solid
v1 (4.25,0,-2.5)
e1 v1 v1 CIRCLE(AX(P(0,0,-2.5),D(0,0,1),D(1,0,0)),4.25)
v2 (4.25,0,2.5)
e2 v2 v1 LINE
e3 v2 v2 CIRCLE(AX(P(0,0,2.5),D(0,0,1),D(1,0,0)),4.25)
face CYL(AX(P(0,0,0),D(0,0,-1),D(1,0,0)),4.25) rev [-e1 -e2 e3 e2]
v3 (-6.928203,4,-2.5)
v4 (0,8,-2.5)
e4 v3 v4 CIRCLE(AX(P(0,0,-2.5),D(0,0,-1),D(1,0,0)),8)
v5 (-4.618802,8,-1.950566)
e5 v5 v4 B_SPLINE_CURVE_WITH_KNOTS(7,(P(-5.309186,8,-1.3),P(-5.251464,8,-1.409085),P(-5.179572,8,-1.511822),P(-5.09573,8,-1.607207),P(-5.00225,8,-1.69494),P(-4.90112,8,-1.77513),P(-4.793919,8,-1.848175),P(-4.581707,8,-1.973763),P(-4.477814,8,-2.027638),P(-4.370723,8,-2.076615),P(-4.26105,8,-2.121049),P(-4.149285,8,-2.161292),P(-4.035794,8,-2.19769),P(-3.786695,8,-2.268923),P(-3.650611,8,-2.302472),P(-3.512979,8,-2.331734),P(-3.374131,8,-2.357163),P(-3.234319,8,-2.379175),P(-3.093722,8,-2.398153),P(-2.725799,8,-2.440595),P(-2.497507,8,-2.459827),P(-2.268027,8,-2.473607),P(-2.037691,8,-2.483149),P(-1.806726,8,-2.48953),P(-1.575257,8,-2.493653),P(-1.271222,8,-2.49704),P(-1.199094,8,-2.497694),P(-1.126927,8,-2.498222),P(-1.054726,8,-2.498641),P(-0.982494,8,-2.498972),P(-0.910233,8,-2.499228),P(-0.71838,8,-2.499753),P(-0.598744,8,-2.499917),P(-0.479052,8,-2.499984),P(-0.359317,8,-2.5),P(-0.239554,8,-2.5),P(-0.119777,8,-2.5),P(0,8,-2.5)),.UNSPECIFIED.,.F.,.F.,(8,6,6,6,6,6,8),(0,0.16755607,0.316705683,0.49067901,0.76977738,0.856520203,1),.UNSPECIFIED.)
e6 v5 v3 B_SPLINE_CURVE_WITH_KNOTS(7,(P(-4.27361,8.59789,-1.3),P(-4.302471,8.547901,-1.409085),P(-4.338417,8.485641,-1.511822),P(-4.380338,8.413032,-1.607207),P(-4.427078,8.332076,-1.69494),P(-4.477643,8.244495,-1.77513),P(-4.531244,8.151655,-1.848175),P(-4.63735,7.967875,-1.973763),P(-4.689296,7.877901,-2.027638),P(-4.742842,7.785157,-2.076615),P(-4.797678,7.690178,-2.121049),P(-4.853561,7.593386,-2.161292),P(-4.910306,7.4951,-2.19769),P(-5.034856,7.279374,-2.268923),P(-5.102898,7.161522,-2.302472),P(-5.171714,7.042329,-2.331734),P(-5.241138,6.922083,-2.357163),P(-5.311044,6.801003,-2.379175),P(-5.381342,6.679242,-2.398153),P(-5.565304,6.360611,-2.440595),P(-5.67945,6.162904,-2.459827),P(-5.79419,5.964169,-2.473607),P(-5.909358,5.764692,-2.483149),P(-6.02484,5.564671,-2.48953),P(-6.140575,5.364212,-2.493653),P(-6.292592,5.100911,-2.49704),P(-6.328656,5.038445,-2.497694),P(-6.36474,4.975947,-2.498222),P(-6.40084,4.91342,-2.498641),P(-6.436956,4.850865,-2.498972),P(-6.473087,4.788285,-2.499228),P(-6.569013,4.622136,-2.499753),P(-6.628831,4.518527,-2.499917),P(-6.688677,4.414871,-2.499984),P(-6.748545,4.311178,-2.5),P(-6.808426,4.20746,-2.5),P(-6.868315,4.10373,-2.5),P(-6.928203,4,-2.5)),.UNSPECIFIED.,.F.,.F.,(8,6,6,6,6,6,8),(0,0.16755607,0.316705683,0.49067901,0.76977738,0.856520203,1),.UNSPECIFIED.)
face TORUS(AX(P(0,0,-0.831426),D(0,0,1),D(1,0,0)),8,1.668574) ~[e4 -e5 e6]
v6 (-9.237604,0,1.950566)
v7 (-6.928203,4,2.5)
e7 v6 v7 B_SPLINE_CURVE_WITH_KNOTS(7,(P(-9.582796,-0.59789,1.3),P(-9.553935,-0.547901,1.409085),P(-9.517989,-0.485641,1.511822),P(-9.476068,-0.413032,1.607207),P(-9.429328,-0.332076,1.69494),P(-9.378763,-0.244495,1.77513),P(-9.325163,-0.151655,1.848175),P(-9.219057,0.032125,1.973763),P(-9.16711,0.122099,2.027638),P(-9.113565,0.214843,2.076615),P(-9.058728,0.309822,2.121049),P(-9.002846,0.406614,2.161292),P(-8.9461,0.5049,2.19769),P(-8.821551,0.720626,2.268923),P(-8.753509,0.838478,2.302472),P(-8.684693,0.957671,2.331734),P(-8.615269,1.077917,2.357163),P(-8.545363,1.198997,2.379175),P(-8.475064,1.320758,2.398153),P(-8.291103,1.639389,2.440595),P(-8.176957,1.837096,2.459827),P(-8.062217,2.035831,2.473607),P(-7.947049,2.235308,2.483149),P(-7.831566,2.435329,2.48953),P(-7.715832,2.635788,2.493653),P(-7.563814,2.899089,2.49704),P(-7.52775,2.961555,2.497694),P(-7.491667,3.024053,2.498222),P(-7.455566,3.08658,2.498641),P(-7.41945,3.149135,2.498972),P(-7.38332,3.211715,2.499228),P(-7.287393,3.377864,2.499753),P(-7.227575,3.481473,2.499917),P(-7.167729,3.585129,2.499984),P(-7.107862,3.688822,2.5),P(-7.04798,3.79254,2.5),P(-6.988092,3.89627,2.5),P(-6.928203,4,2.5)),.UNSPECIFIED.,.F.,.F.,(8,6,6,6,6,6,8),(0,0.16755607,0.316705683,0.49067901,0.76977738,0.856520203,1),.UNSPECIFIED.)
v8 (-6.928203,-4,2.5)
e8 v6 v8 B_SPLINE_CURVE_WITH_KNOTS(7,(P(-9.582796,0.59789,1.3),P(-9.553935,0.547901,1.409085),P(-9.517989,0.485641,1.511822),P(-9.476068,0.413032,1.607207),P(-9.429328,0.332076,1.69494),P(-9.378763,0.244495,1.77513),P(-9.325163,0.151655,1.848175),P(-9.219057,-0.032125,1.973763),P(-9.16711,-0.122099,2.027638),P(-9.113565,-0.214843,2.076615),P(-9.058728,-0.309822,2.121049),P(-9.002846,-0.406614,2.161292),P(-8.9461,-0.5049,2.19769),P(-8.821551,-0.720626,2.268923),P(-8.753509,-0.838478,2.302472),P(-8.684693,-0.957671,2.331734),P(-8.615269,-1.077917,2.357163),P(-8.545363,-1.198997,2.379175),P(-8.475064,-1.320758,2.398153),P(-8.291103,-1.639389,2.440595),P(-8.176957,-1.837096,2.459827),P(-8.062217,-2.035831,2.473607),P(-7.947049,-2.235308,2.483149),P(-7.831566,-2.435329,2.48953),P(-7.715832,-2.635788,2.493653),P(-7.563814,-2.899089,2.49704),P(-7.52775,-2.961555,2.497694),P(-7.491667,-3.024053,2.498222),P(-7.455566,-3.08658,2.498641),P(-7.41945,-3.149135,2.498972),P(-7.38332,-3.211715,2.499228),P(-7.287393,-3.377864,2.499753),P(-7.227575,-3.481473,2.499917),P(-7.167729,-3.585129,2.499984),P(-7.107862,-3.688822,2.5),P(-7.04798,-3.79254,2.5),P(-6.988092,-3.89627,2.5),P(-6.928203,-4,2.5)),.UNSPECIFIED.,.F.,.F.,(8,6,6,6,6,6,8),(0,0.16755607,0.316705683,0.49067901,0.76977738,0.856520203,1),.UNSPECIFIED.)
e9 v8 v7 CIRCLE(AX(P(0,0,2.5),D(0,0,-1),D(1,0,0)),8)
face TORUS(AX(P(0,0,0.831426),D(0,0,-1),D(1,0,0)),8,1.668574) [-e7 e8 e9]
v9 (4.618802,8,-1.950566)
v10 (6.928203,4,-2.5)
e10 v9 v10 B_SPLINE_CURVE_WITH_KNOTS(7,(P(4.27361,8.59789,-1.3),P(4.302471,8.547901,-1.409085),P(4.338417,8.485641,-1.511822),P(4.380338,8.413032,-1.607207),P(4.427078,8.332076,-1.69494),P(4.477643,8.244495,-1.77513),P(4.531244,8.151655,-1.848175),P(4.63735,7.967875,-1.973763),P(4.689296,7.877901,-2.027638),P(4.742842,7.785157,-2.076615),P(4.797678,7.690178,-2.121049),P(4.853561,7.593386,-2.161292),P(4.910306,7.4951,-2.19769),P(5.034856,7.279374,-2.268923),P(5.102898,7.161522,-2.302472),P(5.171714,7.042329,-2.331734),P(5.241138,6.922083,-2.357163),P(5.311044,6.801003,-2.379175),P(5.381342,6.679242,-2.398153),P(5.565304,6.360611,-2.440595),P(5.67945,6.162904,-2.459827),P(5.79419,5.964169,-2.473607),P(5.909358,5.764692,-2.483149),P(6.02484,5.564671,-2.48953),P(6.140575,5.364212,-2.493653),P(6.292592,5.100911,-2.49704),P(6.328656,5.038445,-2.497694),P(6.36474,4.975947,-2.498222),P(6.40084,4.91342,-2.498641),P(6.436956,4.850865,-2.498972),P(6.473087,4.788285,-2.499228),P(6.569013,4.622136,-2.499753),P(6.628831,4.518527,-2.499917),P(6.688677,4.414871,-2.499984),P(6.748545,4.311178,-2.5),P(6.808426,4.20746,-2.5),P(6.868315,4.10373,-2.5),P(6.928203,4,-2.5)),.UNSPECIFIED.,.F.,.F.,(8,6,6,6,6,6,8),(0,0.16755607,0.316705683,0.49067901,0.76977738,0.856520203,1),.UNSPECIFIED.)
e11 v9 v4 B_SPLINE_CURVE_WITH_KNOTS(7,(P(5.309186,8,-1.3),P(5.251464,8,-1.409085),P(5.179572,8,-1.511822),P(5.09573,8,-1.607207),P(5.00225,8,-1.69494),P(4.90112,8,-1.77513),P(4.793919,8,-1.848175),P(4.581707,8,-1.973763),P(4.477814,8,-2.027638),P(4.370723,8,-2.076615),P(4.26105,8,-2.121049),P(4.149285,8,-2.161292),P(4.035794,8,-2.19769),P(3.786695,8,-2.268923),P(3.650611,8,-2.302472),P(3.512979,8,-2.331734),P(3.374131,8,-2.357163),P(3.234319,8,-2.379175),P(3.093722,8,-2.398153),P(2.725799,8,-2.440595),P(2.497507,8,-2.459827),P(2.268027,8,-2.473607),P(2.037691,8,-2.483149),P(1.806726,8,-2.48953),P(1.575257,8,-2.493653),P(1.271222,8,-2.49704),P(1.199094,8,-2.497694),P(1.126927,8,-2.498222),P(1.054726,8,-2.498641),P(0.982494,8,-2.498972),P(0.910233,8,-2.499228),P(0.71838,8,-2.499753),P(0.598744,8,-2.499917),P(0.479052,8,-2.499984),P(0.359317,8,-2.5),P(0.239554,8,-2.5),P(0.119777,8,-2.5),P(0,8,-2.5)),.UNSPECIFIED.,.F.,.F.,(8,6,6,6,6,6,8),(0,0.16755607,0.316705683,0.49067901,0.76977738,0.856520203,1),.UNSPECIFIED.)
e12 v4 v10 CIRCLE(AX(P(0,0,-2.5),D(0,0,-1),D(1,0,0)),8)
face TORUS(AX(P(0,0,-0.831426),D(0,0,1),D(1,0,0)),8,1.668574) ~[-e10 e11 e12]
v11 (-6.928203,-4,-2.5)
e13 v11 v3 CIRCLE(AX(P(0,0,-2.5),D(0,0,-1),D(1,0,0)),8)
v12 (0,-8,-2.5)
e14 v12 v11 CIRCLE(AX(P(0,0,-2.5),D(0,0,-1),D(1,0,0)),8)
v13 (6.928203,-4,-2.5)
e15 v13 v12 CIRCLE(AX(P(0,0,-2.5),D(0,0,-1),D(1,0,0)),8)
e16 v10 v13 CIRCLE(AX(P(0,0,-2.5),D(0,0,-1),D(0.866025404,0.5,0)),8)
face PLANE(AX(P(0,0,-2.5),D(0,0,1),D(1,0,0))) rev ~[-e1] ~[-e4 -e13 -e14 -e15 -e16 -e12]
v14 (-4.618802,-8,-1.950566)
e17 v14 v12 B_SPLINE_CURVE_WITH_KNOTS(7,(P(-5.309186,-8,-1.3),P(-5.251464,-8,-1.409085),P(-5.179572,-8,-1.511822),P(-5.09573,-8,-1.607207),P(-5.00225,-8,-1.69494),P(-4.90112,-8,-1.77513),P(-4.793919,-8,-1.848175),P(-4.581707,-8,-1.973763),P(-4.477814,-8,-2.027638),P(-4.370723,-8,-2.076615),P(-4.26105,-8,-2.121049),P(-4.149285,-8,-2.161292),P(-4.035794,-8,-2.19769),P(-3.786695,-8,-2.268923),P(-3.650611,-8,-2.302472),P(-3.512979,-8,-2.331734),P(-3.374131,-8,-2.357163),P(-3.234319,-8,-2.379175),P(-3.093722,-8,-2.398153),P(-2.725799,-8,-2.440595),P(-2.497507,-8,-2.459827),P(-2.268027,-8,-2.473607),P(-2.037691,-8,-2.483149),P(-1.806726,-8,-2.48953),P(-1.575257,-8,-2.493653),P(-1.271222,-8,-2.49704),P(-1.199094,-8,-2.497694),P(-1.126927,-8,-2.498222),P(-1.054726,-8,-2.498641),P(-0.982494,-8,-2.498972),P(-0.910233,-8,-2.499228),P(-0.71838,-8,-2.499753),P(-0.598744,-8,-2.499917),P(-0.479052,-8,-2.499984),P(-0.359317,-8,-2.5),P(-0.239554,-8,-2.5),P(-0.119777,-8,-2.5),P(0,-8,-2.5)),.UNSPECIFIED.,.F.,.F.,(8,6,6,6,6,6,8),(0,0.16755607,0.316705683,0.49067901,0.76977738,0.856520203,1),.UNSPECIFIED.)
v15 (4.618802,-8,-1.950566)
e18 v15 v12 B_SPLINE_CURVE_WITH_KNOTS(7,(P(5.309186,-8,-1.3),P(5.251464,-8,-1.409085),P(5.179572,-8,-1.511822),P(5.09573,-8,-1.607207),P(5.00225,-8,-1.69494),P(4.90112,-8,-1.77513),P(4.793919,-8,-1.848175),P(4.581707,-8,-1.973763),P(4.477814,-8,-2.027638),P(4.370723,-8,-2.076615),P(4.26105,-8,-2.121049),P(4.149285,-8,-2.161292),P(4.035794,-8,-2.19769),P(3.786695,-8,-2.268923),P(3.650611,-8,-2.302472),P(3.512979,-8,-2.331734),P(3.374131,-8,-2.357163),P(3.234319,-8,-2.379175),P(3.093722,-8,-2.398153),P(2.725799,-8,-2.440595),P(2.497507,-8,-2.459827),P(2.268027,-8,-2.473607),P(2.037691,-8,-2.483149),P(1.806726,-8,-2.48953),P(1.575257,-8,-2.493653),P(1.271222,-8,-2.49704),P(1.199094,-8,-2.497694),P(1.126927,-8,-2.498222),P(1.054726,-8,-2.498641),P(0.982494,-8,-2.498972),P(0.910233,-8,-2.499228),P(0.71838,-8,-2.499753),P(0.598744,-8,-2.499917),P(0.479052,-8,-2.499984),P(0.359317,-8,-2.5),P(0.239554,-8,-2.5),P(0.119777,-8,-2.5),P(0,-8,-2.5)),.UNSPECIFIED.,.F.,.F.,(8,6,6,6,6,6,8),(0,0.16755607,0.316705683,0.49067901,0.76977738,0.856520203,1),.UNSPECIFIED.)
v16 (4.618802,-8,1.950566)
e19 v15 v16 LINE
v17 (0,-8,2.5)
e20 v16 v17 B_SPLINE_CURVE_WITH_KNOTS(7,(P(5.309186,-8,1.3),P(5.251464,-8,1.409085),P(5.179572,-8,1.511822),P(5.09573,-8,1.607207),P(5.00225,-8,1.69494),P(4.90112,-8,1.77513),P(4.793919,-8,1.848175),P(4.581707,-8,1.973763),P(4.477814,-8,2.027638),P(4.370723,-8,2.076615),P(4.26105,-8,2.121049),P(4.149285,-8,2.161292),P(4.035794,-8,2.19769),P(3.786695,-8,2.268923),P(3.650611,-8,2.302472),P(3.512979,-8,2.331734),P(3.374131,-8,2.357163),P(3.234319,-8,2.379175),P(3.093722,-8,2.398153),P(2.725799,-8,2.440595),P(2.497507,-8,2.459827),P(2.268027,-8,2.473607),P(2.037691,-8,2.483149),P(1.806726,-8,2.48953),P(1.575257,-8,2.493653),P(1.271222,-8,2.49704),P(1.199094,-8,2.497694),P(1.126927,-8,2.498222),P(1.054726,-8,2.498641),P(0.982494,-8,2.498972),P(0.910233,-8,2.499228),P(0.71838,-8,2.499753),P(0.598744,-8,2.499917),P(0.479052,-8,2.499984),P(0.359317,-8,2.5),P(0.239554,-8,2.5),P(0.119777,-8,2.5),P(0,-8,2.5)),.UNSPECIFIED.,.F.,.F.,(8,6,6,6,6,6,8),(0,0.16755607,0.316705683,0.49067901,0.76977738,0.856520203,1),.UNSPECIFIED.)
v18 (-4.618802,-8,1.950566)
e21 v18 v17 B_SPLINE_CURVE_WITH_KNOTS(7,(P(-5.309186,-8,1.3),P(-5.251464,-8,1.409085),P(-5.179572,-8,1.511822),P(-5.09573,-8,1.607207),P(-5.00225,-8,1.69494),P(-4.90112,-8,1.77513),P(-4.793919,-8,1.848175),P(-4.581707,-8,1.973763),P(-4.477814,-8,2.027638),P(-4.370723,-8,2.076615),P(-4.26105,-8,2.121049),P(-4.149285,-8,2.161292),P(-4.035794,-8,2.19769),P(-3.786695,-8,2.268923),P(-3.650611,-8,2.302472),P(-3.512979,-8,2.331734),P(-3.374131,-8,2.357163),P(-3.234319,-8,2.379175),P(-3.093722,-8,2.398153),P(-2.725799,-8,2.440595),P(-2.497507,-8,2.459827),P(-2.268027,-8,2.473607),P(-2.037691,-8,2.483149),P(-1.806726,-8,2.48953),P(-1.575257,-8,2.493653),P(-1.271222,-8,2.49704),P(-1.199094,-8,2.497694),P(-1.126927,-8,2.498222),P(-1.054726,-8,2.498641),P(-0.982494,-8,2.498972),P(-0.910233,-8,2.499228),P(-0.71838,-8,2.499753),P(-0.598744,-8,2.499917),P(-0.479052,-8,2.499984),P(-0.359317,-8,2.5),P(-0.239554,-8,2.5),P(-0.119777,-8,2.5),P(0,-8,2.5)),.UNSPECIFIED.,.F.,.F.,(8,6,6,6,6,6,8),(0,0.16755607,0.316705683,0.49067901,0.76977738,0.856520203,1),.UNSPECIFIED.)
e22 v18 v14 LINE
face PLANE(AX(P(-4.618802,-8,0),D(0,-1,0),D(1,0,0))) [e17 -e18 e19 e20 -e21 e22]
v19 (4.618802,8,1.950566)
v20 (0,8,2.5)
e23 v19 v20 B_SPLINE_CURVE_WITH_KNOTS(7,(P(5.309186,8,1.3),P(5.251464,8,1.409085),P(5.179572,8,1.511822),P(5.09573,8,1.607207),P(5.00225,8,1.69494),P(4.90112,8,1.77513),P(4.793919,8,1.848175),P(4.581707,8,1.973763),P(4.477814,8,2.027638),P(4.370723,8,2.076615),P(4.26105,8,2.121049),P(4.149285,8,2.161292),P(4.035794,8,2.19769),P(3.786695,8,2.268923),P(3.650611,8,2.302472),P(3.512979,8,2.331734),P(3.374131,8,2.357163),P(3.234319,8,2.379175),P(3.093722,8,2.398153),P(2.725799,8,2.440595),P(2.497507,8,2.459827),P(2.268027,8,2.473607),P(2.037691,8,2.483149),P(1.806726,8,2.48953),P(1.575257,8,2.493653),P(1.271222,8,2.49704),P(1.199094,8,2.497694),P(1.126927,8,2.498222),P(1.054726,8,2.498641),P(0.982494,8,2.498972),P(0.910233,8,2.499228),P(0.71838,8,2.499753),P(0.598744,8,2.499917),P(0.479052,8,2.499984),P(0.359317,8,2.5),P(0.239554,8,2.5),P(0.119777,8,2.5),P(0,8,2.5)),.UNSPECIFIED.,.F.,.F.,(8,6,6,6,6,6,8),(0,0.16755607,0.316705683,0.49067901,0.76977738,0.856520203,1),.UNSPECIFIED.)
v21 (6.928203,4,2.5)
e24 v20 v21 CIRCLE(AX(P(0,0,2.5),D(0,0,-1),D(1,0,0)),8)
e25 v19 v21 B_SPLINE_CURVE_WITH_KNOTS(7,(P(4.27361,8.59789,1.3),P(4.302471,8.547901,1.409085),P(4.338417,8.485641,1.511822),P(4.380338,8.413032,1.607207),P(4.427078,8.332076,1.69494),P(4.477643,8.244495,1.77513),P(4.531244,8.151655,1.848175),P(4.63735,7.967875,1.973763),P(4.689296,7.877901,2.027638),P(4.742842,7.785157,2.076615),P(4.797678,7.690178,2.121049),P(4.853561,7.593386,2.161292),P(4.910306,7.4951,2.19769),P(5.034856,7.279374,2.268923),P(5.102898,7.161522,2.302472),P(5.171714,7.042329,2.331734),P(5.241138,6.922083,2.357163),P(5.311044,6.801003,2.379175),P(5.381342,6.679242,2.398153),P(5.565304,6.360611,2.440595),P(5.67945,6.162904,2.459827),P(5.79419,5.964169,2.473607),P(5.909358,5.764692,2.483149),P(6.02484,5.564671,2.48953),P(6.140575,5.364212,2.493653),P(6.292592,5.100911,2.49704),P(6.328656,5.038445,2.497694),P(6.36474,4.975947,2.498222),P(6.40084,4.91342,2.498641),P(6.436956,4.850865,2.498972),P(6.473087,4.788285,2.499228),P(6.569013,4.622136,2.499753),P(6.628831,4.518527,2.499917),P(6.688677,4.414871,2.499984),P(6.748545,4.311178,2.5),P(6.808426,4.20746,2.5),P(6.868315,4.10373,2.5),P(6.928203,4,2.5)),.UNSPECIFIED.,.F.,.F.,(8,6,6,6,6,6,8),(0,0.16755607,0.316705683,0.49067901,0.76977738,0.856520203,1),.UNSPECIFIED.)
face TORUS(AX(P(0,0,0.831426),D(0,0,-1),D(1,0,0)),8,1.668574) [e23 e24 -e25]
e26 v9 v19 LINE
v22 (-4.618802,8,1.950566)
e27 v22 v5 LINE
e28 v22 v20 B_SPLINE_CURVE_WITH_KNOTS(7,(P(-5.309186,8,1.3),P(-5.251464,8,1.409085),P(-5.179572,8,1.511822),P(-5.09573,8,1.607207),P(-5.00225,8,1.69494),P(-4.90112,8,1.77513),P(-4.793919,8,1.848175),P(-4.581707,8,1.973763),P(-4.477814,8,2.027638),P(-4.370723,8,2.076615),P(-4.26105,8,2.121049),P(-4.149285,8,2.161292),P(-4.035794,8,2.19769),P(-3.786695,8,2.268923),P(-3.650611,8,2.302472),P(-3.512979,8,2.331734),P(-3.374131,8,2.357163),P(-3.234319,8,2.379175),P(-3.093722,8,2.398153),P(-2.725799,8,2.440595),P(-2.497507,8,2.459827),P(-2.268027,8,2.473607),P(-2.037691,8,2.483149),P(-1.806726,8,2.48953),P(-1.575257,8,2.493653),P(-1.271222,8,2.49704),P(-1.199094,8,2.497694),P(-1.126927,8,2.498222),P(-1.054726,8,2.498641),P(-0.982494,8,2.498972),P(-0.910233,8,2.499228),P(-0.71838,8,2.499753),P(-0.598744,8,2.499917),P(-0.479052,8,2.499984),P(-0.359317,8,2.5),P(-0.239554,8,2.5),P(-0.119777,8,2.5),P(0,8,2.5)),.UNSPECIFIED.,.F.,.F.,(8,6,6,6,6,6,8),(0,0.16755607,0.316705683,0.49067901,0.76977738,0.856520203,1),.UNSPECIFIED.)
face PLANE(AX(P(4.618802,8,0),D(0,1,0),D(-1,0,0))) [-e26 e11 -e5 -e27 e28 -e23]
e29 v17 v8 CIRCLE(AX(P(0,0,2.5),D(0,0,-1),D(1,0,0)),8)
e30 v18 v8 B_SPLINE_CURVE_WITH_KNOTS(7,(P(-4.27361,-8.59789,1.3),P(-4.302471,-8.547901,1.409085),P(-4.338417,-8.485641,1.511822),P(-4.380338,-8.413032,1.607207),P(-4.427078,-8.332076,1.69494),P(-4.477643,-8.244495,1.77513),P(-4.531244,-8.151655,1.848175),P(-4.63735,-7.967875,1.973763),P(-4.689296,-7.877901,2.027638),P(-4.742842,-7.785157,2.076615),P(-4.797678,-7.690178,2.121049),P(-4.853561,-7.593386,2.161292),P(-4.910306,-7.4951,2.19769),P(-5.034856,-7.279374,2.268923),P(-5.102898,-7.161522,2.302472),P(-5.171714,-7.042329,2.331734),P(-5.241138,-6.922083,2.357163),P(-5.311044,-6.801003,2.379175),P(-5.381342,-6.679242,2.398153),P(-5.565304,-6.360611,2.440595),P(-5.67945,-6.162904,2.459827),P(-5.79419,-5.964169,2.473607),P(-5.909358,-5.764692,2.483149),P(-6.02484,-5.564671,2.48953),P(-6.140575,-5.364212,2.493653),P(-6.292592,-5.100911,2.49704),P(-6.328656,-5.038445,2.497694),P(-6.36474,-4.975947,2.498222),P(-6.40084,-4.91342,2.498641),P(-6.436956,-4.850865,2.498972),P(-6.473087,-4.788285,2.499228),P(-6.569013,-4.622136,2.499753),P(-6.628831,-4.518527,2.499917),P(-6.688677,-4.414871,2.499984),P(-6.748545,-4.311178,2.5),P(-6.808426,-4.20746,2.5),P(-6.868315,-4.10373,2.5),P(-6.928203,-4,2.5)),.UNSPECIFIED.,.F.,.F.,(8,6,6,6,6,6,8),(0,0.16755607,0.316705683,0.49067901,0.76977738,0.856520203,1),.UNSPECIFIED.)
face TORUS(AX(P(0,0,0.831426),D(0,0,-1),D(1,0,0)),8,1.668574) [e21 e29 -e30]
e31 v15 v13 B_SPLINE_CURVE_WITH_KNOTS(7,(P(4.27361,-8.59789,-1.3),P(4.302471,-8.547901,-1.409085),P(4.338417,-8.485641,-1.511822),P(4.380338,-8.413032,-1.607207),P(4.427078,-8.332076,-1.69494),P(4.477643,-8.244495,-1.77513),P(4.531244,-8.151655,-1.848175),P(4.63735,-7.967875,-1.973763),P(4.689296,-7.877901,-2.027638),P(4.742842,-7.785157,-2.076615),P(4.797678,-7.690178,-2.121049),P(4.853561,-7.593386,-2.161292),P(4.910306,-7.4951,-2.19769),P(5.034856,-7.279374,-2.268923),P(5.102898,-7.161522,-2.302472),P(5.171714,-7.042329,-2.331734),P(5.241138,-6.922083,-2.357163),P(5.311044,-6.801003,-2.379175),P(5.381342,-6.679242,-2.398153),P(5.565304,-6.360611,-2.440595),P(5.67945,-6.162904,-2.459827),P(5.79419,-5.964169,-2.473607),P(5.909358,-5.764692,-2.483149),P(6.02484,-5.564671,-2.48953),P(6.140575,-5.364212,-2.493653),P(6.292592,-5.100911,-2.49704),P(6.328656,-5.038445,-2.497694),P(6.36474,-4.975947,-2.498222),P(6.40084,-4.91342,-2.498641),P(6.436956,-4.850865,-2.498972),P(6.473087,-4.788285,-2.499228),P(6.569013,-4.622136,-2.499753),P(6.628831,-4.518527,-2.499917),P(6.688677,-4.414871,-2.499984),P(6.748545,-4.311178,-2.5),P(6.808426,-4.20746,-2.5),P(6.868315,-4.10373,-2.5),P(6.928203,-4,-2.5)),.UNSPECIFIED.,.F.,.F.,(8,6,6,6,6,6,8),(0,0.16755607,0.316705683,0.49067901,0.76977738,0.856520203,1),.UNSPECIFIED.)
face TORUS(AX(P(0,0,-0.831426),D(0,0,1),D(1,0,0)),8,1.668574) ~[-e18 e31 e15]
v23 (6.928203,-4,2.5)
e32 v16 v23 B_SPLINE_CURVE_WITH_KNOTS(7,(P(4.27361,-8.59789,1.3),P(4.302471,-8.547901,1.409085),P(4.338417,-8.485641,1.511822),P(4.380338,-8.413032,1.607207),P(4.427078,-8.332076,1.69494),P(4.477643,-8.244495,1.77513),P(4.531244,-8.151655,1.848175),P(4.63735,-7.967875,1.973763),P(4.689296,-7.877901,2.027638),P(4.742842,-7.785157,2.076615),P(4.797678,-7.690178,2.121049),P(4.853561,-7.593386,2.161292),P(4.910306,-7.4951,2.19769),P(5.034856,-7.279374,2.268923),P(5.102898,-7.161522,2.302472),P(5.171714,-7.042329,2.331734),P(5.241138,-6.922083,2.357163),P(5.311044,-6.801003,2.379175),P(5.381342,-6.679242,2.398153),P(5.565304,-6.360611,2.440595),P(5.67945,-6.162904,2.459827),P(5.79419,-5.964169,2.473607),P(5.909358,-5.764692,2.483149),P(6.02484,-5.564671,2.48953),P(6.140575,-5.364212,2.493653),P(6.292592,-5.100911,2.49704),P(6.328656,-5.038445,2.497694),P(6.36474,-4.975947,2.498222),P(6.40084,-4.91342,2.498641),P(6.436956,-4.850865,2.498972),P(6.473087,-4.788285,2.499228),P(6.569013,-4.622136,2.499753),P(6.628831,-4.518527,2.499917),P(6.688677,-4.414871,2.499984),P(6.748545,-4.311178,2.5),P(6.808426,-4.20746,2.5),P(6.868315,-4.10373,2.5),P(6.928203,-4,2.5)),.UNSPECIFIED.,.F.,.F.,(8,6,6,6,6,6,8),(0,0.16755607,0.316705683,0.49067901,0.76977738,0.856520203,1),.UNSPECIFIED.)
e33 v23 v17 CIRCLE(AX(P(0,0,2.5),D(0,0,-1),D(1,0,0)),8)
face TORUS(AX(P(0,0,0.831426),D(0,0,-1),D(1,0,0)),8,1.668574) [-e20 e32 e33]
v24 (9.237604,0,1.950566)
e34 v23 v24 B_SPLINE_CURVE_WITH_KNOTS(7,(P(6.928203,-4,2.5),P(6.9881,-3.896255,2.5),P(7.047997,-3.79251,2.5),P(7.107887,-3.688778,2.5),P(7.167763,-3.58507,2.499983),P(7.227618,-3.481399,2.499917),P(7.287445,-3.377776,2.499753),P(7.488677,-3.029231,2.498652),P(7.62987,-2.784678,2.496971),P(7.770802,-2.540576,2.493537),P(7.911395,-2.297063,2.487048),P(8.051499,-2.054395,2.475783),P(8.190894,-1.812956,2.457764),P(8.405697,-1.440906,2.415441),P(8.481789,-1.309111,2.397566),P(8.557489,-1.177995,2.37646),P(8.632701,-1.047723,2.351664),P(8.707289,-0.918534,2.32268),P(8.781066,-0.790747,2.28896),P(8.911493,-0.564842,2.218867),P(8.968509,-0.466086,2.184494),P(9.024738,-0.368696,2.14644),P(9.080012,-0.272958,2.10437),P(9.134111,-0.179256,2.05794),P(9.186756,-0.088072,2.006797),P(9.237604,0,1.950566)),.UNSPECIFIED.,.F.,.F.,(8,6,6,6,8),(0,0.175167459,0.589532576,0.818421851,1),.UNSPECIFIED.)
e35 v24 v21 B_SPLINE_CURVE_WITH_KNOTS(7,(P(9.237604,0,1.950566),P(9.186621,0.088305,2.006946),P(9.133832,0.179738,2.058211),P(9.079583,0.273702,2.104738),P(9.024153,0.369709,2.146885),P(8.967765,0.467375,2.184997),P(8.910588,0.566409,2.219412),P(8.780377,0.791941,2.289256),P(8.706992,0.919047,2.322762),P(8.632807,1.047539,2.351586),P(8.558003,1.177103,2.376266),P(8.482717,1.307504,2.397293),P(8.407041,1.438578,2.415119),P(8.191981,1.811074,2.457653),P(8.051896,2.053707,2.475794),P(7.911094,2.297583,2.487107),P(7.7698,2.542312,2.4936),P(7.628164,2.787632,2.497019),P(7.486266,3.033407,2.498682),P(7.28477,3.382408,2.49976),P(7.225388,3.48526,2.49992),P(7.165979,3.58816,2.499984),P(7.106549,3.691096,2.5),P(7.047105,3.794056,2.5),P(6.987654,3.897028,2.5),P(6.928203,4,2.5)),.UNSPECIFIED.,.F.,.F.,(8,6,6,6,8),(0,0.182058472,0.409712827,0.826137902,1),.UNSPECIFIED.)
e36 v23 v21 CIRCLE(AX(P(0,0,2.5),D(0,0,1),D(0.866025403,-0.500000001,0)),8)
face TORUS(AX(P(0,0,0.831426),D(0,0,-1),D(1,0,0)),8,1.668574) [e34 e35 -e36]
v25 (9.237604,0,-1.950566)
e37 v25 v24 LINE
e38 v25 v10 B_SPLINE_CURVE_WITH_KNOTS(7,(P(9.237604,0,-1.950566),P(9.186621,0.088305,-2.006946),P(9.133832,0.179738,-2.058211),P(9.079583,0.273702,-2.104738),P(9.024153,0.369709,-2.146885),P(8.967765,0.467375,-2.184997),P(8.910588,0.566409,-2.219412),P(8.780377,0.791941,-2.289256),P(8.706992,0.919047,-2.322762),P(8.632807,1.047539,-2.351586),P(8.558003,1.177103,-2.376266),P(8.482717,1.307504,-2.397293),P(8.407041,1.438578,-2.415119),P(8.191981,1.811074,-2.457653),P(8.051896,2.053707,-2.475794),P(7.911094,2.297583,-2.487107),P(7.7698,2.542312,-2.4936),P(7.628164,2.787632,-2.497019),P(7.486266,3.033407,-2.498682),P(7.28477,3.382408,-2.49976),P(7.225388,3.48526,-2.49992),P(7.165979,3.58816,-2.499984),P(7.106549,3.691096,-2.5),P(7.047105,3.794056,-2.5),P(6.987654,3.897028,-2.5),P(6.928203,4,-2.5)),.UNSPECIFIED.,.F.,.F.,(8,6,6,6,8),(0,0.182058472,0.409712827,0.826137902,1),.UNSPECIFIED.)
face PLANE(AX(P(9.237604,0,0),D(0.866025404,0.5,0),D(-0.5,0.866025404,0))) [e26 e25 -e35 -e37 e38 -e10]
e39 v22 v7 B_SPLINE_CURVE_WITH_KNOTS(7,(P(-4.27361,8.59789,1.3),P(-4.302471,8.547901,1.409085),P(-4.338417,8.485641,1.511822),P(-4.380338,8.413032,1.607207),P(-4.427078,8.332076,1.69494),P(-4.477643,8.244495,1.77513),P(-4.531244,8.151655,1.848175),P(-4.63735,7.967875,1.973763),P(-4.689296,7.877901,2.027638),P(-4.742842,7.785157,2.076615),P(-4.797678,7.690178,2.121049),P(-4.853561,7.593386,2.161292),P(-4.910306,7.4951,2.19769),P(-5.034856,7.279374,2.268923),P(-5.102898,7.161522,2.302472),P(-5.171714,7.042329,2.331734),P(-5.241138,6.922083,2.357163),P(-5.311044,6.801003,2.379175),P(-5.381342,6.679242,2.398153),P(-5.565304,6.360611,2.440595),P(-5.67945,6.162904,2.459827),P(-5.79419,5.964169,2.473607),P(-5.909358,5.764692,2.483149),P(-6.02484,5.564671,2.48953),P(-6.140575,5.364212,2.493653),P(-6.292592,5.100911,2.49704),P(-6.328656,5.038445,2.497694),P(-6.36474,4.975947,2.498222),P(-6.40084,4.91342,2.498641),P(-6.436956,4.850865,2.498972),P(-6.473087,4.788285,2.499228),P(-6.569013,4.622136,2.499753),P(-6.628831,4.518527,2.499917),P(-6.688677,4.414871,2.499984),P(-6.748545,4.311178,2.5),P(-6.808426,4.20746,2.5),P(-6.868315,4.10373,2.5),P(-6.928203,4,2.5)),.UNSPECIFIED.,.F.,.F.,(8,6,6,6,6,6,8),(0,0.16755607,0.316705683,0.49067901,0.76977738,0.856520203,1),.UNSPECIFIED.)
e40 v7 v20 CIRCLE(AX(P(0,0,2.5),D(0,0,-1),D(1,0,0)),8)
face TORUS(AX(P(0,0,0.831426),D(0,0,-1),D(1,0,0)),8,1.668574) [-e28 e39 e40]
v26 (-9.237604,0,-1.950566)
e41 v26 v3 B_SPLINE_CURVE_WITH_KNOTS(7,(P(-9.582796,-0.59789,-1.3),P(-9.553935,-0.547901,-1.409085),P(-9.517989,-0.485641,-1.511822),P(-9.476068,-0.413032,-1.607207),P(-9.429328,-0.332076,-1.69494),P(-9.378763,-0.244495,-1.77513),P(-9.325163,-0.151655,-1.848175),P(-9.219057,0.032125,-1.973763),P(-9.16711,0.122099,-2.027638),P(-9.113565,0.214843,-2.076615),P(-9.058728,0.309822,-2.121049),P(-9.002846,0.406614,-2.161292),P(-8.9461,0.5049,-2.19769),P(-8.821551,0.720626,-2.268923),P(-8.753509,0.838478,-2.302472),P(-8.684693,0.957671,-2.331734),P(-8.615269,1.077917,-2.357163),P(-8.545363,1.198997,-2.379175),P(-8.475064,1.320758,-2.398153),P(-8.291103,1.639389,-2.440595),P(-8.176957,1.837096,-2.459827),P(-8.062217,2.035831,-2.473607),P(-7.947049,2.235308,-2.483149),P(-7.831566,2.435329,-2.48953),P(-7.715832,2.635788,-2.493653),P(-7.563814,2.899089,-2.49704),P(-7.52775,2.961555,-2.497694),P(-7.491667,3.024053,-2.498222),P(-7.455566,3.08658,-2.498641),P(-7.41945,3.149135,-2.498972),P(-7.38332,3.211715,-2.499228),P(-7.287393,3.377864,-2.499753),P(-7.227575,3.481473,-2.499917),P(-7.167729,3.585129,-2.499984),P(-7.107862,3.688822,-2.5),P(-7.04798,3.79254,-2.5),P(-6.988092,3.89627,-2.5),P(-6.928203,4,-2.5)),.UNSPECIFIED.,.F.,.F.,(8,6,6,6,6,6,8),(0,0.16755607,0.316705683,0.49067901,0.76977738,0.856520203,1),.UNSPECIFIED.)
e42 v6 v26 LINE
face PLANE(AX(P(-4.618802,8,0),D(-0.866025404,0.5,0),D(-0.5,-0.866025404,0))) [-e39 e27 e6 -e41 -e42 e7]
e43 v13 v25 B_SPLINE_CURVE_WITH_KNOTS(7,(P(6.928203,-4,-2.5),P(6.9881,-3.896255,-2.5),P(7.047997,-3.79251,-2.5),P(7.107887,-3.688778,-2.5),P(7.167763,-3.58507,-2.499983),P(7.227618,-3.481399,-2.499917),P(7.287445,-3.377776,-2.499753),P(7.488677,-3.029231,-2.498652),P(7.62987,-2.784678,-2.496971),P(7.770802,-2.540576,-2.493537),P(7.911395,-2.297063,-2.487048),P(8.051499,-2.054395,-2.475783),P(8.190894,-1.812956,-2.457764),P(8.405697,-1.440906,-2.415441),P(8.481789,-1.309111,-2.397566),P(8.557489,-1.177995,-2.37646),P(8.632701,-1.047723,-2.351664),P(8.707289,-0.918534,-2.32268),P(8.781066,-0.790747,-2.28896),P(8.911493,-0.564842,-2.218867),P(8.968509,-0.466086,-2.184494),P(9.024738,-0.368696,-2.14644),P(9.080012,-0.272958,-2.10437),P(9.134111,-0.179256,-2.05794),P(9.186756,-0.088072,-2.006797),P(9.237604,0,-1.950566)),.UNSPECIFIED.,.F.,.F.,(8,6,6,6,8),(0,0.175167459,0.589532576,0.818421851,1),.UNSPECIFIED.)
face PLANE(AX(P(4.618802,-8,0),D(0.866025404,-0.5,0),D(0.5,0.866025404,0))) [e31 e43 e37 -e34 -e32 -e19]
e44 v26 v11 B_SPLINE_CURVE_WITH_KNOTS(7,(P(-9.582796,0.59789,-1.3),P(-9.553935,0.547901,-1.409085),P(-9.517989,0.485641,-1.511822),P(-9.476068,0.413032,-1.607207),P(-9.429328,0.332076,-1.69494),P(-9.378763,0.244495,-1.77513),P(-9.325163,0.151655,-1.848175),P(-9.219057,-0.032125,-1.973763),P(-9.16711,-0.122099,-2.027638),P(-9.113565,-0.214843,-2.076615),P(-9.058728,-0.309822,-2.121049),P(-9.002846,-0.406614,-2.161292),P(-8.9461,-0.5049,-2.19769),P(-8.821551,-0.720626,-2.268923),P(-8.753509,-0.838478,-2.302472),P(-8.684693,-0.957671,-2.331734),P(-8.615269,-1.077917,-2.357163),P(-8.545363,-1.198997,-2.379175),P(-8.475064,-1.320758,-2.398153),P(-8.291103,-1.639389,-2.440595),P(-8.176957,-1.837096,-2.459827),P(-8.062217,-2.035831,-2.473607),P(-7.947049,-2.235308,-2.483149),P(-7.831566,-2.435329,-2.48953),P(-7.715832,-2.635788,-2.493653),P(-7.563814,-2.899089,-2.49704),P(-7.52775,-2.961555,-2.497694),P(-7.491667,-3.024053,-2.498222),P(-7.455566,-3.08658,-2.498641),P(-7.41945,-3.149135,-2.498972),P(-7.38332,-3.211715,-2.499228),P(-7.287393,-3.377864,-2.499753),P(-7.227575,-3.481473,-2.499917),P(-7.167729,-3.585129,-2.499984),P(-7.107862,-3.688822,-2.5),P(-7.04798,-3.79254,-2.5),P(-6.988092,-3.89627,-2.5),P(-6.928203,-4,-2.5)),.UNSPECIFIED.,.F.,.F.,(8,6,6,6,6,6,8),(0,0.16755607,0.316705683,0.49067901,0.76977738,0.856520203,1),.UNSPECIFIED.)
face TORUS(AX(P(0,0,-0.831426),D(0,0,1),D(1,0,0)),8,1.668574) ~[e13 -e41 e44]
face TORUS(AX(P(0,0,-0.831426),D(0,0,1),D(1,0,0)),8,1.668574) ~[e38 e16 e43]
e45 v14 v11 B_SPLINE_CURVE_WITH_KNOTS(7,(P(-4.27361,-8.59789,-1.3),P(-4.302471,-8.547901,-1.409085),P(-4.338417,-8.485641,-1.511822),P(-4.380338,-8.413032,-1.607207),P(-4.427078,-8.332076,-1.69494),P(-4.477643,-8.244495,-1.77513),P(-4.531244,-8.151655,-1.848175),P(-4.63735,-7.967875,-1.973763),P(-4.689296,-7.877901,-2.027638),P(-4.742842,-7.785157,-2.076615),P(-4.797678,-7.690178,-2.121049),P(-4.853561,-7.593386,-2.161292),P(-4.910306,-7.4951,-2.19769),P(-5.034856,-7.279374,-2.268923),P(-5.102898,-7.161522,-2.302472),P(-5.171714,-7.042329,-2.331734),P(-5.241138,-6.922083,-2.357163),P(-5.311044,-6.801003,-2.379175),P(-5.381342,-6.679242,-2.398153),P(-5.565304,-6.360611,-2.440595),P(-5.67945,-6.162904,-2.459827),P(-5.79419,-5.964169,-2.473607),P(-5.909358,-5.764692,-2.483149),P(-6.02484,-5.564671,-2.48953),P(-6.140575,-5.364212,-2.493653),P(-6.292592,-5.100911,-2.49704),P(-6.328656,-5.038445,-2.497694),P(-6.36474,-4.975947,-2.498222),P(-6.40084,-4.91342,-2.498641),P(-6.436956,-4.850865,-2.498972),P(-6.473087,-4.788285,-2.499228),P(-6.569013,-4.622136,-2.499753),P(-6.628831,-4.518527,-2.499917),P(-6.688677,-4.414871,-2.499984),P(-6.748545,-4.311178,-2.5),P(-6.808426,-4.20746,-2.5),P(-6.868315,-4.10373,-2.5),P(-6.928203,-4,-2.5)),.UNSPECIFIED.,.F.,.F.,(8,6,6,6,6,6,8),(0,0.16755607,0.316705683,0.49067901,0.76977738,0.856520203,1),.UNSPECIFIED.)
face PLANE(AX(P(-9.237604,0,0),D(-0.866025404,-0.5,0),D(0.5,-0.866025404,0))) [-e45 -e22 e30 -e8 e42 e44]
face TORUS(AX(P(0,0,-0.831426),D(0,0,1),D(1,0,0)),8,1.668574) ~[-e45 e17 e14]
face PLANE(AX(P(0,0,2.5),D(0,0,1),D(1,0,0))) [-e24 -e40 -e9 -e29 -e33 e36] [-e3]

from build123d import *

# Parameters (mm, degrees)
ESQUISSE1_R        = 4.25
BOSS_EXTRU_1_DEPTH = 2.5


with BuildPart() as part:
    # Esquisse1 → Boss.-Extru.1 (new body, symmetric)
    with BuildSketch(Plane.XY):
        Polygon((-4.618802154, -8), (4.618802154, -8), (9.237604307, 0), (4.618802154, 8), (-4.618802154, 8), (-9.237604307, 0), align=None)
        Circle(ESQUISSE1_R, mode=Mode.SUBTRACT)
    extrude(amount=BOSS_EXTRU_1_DEPTH, both=True)

    # Esquisse3 → Enlèvement de matière-Révolution2 (revolve, cut)
    with BuildSketch(Plane(origin=(0, 0, 0), x_dir=(0, 0, -1), z_dir=(1, 0, 0)), mode=Mode.PRIVATE) as enl_vement_de_mati_re_r_volution2_sk:
        with BuildLine():
            Line((3, 10.101429963), (3, 8))
            Line((3, 8), (2.5, 8))
            ThreePointArc((2.5, 8), (2.166714284, 9.000572077), (1.3, 9.601429963))
            Line((1.3, 9.601429963), (1.3, 10.101429963))
            Line((1.3, 10.101429963), (3, 10.101429963))
        make_face()
    enl_vement_de_mati_re_r_volution2 = revolve(enl_vement_de_mati_re_r_volution2_sk.sketch.rotate(Axis((0, 0, 5.617054836), (0, 0, -1)), 90), axis=Axis((0, 0, 5.617054836), (0, 0, -1)), mode=Mode.SUBTRACT)  # turned: the seam where the file's is

    # Symétrie1: Enlèvement de matière-Révolution2 across plane
    add(enl_vement_de_mati_re_r_volution2.mirror(Plane.XY), mode=Mode.SUBTRACT)


solid = part.part
